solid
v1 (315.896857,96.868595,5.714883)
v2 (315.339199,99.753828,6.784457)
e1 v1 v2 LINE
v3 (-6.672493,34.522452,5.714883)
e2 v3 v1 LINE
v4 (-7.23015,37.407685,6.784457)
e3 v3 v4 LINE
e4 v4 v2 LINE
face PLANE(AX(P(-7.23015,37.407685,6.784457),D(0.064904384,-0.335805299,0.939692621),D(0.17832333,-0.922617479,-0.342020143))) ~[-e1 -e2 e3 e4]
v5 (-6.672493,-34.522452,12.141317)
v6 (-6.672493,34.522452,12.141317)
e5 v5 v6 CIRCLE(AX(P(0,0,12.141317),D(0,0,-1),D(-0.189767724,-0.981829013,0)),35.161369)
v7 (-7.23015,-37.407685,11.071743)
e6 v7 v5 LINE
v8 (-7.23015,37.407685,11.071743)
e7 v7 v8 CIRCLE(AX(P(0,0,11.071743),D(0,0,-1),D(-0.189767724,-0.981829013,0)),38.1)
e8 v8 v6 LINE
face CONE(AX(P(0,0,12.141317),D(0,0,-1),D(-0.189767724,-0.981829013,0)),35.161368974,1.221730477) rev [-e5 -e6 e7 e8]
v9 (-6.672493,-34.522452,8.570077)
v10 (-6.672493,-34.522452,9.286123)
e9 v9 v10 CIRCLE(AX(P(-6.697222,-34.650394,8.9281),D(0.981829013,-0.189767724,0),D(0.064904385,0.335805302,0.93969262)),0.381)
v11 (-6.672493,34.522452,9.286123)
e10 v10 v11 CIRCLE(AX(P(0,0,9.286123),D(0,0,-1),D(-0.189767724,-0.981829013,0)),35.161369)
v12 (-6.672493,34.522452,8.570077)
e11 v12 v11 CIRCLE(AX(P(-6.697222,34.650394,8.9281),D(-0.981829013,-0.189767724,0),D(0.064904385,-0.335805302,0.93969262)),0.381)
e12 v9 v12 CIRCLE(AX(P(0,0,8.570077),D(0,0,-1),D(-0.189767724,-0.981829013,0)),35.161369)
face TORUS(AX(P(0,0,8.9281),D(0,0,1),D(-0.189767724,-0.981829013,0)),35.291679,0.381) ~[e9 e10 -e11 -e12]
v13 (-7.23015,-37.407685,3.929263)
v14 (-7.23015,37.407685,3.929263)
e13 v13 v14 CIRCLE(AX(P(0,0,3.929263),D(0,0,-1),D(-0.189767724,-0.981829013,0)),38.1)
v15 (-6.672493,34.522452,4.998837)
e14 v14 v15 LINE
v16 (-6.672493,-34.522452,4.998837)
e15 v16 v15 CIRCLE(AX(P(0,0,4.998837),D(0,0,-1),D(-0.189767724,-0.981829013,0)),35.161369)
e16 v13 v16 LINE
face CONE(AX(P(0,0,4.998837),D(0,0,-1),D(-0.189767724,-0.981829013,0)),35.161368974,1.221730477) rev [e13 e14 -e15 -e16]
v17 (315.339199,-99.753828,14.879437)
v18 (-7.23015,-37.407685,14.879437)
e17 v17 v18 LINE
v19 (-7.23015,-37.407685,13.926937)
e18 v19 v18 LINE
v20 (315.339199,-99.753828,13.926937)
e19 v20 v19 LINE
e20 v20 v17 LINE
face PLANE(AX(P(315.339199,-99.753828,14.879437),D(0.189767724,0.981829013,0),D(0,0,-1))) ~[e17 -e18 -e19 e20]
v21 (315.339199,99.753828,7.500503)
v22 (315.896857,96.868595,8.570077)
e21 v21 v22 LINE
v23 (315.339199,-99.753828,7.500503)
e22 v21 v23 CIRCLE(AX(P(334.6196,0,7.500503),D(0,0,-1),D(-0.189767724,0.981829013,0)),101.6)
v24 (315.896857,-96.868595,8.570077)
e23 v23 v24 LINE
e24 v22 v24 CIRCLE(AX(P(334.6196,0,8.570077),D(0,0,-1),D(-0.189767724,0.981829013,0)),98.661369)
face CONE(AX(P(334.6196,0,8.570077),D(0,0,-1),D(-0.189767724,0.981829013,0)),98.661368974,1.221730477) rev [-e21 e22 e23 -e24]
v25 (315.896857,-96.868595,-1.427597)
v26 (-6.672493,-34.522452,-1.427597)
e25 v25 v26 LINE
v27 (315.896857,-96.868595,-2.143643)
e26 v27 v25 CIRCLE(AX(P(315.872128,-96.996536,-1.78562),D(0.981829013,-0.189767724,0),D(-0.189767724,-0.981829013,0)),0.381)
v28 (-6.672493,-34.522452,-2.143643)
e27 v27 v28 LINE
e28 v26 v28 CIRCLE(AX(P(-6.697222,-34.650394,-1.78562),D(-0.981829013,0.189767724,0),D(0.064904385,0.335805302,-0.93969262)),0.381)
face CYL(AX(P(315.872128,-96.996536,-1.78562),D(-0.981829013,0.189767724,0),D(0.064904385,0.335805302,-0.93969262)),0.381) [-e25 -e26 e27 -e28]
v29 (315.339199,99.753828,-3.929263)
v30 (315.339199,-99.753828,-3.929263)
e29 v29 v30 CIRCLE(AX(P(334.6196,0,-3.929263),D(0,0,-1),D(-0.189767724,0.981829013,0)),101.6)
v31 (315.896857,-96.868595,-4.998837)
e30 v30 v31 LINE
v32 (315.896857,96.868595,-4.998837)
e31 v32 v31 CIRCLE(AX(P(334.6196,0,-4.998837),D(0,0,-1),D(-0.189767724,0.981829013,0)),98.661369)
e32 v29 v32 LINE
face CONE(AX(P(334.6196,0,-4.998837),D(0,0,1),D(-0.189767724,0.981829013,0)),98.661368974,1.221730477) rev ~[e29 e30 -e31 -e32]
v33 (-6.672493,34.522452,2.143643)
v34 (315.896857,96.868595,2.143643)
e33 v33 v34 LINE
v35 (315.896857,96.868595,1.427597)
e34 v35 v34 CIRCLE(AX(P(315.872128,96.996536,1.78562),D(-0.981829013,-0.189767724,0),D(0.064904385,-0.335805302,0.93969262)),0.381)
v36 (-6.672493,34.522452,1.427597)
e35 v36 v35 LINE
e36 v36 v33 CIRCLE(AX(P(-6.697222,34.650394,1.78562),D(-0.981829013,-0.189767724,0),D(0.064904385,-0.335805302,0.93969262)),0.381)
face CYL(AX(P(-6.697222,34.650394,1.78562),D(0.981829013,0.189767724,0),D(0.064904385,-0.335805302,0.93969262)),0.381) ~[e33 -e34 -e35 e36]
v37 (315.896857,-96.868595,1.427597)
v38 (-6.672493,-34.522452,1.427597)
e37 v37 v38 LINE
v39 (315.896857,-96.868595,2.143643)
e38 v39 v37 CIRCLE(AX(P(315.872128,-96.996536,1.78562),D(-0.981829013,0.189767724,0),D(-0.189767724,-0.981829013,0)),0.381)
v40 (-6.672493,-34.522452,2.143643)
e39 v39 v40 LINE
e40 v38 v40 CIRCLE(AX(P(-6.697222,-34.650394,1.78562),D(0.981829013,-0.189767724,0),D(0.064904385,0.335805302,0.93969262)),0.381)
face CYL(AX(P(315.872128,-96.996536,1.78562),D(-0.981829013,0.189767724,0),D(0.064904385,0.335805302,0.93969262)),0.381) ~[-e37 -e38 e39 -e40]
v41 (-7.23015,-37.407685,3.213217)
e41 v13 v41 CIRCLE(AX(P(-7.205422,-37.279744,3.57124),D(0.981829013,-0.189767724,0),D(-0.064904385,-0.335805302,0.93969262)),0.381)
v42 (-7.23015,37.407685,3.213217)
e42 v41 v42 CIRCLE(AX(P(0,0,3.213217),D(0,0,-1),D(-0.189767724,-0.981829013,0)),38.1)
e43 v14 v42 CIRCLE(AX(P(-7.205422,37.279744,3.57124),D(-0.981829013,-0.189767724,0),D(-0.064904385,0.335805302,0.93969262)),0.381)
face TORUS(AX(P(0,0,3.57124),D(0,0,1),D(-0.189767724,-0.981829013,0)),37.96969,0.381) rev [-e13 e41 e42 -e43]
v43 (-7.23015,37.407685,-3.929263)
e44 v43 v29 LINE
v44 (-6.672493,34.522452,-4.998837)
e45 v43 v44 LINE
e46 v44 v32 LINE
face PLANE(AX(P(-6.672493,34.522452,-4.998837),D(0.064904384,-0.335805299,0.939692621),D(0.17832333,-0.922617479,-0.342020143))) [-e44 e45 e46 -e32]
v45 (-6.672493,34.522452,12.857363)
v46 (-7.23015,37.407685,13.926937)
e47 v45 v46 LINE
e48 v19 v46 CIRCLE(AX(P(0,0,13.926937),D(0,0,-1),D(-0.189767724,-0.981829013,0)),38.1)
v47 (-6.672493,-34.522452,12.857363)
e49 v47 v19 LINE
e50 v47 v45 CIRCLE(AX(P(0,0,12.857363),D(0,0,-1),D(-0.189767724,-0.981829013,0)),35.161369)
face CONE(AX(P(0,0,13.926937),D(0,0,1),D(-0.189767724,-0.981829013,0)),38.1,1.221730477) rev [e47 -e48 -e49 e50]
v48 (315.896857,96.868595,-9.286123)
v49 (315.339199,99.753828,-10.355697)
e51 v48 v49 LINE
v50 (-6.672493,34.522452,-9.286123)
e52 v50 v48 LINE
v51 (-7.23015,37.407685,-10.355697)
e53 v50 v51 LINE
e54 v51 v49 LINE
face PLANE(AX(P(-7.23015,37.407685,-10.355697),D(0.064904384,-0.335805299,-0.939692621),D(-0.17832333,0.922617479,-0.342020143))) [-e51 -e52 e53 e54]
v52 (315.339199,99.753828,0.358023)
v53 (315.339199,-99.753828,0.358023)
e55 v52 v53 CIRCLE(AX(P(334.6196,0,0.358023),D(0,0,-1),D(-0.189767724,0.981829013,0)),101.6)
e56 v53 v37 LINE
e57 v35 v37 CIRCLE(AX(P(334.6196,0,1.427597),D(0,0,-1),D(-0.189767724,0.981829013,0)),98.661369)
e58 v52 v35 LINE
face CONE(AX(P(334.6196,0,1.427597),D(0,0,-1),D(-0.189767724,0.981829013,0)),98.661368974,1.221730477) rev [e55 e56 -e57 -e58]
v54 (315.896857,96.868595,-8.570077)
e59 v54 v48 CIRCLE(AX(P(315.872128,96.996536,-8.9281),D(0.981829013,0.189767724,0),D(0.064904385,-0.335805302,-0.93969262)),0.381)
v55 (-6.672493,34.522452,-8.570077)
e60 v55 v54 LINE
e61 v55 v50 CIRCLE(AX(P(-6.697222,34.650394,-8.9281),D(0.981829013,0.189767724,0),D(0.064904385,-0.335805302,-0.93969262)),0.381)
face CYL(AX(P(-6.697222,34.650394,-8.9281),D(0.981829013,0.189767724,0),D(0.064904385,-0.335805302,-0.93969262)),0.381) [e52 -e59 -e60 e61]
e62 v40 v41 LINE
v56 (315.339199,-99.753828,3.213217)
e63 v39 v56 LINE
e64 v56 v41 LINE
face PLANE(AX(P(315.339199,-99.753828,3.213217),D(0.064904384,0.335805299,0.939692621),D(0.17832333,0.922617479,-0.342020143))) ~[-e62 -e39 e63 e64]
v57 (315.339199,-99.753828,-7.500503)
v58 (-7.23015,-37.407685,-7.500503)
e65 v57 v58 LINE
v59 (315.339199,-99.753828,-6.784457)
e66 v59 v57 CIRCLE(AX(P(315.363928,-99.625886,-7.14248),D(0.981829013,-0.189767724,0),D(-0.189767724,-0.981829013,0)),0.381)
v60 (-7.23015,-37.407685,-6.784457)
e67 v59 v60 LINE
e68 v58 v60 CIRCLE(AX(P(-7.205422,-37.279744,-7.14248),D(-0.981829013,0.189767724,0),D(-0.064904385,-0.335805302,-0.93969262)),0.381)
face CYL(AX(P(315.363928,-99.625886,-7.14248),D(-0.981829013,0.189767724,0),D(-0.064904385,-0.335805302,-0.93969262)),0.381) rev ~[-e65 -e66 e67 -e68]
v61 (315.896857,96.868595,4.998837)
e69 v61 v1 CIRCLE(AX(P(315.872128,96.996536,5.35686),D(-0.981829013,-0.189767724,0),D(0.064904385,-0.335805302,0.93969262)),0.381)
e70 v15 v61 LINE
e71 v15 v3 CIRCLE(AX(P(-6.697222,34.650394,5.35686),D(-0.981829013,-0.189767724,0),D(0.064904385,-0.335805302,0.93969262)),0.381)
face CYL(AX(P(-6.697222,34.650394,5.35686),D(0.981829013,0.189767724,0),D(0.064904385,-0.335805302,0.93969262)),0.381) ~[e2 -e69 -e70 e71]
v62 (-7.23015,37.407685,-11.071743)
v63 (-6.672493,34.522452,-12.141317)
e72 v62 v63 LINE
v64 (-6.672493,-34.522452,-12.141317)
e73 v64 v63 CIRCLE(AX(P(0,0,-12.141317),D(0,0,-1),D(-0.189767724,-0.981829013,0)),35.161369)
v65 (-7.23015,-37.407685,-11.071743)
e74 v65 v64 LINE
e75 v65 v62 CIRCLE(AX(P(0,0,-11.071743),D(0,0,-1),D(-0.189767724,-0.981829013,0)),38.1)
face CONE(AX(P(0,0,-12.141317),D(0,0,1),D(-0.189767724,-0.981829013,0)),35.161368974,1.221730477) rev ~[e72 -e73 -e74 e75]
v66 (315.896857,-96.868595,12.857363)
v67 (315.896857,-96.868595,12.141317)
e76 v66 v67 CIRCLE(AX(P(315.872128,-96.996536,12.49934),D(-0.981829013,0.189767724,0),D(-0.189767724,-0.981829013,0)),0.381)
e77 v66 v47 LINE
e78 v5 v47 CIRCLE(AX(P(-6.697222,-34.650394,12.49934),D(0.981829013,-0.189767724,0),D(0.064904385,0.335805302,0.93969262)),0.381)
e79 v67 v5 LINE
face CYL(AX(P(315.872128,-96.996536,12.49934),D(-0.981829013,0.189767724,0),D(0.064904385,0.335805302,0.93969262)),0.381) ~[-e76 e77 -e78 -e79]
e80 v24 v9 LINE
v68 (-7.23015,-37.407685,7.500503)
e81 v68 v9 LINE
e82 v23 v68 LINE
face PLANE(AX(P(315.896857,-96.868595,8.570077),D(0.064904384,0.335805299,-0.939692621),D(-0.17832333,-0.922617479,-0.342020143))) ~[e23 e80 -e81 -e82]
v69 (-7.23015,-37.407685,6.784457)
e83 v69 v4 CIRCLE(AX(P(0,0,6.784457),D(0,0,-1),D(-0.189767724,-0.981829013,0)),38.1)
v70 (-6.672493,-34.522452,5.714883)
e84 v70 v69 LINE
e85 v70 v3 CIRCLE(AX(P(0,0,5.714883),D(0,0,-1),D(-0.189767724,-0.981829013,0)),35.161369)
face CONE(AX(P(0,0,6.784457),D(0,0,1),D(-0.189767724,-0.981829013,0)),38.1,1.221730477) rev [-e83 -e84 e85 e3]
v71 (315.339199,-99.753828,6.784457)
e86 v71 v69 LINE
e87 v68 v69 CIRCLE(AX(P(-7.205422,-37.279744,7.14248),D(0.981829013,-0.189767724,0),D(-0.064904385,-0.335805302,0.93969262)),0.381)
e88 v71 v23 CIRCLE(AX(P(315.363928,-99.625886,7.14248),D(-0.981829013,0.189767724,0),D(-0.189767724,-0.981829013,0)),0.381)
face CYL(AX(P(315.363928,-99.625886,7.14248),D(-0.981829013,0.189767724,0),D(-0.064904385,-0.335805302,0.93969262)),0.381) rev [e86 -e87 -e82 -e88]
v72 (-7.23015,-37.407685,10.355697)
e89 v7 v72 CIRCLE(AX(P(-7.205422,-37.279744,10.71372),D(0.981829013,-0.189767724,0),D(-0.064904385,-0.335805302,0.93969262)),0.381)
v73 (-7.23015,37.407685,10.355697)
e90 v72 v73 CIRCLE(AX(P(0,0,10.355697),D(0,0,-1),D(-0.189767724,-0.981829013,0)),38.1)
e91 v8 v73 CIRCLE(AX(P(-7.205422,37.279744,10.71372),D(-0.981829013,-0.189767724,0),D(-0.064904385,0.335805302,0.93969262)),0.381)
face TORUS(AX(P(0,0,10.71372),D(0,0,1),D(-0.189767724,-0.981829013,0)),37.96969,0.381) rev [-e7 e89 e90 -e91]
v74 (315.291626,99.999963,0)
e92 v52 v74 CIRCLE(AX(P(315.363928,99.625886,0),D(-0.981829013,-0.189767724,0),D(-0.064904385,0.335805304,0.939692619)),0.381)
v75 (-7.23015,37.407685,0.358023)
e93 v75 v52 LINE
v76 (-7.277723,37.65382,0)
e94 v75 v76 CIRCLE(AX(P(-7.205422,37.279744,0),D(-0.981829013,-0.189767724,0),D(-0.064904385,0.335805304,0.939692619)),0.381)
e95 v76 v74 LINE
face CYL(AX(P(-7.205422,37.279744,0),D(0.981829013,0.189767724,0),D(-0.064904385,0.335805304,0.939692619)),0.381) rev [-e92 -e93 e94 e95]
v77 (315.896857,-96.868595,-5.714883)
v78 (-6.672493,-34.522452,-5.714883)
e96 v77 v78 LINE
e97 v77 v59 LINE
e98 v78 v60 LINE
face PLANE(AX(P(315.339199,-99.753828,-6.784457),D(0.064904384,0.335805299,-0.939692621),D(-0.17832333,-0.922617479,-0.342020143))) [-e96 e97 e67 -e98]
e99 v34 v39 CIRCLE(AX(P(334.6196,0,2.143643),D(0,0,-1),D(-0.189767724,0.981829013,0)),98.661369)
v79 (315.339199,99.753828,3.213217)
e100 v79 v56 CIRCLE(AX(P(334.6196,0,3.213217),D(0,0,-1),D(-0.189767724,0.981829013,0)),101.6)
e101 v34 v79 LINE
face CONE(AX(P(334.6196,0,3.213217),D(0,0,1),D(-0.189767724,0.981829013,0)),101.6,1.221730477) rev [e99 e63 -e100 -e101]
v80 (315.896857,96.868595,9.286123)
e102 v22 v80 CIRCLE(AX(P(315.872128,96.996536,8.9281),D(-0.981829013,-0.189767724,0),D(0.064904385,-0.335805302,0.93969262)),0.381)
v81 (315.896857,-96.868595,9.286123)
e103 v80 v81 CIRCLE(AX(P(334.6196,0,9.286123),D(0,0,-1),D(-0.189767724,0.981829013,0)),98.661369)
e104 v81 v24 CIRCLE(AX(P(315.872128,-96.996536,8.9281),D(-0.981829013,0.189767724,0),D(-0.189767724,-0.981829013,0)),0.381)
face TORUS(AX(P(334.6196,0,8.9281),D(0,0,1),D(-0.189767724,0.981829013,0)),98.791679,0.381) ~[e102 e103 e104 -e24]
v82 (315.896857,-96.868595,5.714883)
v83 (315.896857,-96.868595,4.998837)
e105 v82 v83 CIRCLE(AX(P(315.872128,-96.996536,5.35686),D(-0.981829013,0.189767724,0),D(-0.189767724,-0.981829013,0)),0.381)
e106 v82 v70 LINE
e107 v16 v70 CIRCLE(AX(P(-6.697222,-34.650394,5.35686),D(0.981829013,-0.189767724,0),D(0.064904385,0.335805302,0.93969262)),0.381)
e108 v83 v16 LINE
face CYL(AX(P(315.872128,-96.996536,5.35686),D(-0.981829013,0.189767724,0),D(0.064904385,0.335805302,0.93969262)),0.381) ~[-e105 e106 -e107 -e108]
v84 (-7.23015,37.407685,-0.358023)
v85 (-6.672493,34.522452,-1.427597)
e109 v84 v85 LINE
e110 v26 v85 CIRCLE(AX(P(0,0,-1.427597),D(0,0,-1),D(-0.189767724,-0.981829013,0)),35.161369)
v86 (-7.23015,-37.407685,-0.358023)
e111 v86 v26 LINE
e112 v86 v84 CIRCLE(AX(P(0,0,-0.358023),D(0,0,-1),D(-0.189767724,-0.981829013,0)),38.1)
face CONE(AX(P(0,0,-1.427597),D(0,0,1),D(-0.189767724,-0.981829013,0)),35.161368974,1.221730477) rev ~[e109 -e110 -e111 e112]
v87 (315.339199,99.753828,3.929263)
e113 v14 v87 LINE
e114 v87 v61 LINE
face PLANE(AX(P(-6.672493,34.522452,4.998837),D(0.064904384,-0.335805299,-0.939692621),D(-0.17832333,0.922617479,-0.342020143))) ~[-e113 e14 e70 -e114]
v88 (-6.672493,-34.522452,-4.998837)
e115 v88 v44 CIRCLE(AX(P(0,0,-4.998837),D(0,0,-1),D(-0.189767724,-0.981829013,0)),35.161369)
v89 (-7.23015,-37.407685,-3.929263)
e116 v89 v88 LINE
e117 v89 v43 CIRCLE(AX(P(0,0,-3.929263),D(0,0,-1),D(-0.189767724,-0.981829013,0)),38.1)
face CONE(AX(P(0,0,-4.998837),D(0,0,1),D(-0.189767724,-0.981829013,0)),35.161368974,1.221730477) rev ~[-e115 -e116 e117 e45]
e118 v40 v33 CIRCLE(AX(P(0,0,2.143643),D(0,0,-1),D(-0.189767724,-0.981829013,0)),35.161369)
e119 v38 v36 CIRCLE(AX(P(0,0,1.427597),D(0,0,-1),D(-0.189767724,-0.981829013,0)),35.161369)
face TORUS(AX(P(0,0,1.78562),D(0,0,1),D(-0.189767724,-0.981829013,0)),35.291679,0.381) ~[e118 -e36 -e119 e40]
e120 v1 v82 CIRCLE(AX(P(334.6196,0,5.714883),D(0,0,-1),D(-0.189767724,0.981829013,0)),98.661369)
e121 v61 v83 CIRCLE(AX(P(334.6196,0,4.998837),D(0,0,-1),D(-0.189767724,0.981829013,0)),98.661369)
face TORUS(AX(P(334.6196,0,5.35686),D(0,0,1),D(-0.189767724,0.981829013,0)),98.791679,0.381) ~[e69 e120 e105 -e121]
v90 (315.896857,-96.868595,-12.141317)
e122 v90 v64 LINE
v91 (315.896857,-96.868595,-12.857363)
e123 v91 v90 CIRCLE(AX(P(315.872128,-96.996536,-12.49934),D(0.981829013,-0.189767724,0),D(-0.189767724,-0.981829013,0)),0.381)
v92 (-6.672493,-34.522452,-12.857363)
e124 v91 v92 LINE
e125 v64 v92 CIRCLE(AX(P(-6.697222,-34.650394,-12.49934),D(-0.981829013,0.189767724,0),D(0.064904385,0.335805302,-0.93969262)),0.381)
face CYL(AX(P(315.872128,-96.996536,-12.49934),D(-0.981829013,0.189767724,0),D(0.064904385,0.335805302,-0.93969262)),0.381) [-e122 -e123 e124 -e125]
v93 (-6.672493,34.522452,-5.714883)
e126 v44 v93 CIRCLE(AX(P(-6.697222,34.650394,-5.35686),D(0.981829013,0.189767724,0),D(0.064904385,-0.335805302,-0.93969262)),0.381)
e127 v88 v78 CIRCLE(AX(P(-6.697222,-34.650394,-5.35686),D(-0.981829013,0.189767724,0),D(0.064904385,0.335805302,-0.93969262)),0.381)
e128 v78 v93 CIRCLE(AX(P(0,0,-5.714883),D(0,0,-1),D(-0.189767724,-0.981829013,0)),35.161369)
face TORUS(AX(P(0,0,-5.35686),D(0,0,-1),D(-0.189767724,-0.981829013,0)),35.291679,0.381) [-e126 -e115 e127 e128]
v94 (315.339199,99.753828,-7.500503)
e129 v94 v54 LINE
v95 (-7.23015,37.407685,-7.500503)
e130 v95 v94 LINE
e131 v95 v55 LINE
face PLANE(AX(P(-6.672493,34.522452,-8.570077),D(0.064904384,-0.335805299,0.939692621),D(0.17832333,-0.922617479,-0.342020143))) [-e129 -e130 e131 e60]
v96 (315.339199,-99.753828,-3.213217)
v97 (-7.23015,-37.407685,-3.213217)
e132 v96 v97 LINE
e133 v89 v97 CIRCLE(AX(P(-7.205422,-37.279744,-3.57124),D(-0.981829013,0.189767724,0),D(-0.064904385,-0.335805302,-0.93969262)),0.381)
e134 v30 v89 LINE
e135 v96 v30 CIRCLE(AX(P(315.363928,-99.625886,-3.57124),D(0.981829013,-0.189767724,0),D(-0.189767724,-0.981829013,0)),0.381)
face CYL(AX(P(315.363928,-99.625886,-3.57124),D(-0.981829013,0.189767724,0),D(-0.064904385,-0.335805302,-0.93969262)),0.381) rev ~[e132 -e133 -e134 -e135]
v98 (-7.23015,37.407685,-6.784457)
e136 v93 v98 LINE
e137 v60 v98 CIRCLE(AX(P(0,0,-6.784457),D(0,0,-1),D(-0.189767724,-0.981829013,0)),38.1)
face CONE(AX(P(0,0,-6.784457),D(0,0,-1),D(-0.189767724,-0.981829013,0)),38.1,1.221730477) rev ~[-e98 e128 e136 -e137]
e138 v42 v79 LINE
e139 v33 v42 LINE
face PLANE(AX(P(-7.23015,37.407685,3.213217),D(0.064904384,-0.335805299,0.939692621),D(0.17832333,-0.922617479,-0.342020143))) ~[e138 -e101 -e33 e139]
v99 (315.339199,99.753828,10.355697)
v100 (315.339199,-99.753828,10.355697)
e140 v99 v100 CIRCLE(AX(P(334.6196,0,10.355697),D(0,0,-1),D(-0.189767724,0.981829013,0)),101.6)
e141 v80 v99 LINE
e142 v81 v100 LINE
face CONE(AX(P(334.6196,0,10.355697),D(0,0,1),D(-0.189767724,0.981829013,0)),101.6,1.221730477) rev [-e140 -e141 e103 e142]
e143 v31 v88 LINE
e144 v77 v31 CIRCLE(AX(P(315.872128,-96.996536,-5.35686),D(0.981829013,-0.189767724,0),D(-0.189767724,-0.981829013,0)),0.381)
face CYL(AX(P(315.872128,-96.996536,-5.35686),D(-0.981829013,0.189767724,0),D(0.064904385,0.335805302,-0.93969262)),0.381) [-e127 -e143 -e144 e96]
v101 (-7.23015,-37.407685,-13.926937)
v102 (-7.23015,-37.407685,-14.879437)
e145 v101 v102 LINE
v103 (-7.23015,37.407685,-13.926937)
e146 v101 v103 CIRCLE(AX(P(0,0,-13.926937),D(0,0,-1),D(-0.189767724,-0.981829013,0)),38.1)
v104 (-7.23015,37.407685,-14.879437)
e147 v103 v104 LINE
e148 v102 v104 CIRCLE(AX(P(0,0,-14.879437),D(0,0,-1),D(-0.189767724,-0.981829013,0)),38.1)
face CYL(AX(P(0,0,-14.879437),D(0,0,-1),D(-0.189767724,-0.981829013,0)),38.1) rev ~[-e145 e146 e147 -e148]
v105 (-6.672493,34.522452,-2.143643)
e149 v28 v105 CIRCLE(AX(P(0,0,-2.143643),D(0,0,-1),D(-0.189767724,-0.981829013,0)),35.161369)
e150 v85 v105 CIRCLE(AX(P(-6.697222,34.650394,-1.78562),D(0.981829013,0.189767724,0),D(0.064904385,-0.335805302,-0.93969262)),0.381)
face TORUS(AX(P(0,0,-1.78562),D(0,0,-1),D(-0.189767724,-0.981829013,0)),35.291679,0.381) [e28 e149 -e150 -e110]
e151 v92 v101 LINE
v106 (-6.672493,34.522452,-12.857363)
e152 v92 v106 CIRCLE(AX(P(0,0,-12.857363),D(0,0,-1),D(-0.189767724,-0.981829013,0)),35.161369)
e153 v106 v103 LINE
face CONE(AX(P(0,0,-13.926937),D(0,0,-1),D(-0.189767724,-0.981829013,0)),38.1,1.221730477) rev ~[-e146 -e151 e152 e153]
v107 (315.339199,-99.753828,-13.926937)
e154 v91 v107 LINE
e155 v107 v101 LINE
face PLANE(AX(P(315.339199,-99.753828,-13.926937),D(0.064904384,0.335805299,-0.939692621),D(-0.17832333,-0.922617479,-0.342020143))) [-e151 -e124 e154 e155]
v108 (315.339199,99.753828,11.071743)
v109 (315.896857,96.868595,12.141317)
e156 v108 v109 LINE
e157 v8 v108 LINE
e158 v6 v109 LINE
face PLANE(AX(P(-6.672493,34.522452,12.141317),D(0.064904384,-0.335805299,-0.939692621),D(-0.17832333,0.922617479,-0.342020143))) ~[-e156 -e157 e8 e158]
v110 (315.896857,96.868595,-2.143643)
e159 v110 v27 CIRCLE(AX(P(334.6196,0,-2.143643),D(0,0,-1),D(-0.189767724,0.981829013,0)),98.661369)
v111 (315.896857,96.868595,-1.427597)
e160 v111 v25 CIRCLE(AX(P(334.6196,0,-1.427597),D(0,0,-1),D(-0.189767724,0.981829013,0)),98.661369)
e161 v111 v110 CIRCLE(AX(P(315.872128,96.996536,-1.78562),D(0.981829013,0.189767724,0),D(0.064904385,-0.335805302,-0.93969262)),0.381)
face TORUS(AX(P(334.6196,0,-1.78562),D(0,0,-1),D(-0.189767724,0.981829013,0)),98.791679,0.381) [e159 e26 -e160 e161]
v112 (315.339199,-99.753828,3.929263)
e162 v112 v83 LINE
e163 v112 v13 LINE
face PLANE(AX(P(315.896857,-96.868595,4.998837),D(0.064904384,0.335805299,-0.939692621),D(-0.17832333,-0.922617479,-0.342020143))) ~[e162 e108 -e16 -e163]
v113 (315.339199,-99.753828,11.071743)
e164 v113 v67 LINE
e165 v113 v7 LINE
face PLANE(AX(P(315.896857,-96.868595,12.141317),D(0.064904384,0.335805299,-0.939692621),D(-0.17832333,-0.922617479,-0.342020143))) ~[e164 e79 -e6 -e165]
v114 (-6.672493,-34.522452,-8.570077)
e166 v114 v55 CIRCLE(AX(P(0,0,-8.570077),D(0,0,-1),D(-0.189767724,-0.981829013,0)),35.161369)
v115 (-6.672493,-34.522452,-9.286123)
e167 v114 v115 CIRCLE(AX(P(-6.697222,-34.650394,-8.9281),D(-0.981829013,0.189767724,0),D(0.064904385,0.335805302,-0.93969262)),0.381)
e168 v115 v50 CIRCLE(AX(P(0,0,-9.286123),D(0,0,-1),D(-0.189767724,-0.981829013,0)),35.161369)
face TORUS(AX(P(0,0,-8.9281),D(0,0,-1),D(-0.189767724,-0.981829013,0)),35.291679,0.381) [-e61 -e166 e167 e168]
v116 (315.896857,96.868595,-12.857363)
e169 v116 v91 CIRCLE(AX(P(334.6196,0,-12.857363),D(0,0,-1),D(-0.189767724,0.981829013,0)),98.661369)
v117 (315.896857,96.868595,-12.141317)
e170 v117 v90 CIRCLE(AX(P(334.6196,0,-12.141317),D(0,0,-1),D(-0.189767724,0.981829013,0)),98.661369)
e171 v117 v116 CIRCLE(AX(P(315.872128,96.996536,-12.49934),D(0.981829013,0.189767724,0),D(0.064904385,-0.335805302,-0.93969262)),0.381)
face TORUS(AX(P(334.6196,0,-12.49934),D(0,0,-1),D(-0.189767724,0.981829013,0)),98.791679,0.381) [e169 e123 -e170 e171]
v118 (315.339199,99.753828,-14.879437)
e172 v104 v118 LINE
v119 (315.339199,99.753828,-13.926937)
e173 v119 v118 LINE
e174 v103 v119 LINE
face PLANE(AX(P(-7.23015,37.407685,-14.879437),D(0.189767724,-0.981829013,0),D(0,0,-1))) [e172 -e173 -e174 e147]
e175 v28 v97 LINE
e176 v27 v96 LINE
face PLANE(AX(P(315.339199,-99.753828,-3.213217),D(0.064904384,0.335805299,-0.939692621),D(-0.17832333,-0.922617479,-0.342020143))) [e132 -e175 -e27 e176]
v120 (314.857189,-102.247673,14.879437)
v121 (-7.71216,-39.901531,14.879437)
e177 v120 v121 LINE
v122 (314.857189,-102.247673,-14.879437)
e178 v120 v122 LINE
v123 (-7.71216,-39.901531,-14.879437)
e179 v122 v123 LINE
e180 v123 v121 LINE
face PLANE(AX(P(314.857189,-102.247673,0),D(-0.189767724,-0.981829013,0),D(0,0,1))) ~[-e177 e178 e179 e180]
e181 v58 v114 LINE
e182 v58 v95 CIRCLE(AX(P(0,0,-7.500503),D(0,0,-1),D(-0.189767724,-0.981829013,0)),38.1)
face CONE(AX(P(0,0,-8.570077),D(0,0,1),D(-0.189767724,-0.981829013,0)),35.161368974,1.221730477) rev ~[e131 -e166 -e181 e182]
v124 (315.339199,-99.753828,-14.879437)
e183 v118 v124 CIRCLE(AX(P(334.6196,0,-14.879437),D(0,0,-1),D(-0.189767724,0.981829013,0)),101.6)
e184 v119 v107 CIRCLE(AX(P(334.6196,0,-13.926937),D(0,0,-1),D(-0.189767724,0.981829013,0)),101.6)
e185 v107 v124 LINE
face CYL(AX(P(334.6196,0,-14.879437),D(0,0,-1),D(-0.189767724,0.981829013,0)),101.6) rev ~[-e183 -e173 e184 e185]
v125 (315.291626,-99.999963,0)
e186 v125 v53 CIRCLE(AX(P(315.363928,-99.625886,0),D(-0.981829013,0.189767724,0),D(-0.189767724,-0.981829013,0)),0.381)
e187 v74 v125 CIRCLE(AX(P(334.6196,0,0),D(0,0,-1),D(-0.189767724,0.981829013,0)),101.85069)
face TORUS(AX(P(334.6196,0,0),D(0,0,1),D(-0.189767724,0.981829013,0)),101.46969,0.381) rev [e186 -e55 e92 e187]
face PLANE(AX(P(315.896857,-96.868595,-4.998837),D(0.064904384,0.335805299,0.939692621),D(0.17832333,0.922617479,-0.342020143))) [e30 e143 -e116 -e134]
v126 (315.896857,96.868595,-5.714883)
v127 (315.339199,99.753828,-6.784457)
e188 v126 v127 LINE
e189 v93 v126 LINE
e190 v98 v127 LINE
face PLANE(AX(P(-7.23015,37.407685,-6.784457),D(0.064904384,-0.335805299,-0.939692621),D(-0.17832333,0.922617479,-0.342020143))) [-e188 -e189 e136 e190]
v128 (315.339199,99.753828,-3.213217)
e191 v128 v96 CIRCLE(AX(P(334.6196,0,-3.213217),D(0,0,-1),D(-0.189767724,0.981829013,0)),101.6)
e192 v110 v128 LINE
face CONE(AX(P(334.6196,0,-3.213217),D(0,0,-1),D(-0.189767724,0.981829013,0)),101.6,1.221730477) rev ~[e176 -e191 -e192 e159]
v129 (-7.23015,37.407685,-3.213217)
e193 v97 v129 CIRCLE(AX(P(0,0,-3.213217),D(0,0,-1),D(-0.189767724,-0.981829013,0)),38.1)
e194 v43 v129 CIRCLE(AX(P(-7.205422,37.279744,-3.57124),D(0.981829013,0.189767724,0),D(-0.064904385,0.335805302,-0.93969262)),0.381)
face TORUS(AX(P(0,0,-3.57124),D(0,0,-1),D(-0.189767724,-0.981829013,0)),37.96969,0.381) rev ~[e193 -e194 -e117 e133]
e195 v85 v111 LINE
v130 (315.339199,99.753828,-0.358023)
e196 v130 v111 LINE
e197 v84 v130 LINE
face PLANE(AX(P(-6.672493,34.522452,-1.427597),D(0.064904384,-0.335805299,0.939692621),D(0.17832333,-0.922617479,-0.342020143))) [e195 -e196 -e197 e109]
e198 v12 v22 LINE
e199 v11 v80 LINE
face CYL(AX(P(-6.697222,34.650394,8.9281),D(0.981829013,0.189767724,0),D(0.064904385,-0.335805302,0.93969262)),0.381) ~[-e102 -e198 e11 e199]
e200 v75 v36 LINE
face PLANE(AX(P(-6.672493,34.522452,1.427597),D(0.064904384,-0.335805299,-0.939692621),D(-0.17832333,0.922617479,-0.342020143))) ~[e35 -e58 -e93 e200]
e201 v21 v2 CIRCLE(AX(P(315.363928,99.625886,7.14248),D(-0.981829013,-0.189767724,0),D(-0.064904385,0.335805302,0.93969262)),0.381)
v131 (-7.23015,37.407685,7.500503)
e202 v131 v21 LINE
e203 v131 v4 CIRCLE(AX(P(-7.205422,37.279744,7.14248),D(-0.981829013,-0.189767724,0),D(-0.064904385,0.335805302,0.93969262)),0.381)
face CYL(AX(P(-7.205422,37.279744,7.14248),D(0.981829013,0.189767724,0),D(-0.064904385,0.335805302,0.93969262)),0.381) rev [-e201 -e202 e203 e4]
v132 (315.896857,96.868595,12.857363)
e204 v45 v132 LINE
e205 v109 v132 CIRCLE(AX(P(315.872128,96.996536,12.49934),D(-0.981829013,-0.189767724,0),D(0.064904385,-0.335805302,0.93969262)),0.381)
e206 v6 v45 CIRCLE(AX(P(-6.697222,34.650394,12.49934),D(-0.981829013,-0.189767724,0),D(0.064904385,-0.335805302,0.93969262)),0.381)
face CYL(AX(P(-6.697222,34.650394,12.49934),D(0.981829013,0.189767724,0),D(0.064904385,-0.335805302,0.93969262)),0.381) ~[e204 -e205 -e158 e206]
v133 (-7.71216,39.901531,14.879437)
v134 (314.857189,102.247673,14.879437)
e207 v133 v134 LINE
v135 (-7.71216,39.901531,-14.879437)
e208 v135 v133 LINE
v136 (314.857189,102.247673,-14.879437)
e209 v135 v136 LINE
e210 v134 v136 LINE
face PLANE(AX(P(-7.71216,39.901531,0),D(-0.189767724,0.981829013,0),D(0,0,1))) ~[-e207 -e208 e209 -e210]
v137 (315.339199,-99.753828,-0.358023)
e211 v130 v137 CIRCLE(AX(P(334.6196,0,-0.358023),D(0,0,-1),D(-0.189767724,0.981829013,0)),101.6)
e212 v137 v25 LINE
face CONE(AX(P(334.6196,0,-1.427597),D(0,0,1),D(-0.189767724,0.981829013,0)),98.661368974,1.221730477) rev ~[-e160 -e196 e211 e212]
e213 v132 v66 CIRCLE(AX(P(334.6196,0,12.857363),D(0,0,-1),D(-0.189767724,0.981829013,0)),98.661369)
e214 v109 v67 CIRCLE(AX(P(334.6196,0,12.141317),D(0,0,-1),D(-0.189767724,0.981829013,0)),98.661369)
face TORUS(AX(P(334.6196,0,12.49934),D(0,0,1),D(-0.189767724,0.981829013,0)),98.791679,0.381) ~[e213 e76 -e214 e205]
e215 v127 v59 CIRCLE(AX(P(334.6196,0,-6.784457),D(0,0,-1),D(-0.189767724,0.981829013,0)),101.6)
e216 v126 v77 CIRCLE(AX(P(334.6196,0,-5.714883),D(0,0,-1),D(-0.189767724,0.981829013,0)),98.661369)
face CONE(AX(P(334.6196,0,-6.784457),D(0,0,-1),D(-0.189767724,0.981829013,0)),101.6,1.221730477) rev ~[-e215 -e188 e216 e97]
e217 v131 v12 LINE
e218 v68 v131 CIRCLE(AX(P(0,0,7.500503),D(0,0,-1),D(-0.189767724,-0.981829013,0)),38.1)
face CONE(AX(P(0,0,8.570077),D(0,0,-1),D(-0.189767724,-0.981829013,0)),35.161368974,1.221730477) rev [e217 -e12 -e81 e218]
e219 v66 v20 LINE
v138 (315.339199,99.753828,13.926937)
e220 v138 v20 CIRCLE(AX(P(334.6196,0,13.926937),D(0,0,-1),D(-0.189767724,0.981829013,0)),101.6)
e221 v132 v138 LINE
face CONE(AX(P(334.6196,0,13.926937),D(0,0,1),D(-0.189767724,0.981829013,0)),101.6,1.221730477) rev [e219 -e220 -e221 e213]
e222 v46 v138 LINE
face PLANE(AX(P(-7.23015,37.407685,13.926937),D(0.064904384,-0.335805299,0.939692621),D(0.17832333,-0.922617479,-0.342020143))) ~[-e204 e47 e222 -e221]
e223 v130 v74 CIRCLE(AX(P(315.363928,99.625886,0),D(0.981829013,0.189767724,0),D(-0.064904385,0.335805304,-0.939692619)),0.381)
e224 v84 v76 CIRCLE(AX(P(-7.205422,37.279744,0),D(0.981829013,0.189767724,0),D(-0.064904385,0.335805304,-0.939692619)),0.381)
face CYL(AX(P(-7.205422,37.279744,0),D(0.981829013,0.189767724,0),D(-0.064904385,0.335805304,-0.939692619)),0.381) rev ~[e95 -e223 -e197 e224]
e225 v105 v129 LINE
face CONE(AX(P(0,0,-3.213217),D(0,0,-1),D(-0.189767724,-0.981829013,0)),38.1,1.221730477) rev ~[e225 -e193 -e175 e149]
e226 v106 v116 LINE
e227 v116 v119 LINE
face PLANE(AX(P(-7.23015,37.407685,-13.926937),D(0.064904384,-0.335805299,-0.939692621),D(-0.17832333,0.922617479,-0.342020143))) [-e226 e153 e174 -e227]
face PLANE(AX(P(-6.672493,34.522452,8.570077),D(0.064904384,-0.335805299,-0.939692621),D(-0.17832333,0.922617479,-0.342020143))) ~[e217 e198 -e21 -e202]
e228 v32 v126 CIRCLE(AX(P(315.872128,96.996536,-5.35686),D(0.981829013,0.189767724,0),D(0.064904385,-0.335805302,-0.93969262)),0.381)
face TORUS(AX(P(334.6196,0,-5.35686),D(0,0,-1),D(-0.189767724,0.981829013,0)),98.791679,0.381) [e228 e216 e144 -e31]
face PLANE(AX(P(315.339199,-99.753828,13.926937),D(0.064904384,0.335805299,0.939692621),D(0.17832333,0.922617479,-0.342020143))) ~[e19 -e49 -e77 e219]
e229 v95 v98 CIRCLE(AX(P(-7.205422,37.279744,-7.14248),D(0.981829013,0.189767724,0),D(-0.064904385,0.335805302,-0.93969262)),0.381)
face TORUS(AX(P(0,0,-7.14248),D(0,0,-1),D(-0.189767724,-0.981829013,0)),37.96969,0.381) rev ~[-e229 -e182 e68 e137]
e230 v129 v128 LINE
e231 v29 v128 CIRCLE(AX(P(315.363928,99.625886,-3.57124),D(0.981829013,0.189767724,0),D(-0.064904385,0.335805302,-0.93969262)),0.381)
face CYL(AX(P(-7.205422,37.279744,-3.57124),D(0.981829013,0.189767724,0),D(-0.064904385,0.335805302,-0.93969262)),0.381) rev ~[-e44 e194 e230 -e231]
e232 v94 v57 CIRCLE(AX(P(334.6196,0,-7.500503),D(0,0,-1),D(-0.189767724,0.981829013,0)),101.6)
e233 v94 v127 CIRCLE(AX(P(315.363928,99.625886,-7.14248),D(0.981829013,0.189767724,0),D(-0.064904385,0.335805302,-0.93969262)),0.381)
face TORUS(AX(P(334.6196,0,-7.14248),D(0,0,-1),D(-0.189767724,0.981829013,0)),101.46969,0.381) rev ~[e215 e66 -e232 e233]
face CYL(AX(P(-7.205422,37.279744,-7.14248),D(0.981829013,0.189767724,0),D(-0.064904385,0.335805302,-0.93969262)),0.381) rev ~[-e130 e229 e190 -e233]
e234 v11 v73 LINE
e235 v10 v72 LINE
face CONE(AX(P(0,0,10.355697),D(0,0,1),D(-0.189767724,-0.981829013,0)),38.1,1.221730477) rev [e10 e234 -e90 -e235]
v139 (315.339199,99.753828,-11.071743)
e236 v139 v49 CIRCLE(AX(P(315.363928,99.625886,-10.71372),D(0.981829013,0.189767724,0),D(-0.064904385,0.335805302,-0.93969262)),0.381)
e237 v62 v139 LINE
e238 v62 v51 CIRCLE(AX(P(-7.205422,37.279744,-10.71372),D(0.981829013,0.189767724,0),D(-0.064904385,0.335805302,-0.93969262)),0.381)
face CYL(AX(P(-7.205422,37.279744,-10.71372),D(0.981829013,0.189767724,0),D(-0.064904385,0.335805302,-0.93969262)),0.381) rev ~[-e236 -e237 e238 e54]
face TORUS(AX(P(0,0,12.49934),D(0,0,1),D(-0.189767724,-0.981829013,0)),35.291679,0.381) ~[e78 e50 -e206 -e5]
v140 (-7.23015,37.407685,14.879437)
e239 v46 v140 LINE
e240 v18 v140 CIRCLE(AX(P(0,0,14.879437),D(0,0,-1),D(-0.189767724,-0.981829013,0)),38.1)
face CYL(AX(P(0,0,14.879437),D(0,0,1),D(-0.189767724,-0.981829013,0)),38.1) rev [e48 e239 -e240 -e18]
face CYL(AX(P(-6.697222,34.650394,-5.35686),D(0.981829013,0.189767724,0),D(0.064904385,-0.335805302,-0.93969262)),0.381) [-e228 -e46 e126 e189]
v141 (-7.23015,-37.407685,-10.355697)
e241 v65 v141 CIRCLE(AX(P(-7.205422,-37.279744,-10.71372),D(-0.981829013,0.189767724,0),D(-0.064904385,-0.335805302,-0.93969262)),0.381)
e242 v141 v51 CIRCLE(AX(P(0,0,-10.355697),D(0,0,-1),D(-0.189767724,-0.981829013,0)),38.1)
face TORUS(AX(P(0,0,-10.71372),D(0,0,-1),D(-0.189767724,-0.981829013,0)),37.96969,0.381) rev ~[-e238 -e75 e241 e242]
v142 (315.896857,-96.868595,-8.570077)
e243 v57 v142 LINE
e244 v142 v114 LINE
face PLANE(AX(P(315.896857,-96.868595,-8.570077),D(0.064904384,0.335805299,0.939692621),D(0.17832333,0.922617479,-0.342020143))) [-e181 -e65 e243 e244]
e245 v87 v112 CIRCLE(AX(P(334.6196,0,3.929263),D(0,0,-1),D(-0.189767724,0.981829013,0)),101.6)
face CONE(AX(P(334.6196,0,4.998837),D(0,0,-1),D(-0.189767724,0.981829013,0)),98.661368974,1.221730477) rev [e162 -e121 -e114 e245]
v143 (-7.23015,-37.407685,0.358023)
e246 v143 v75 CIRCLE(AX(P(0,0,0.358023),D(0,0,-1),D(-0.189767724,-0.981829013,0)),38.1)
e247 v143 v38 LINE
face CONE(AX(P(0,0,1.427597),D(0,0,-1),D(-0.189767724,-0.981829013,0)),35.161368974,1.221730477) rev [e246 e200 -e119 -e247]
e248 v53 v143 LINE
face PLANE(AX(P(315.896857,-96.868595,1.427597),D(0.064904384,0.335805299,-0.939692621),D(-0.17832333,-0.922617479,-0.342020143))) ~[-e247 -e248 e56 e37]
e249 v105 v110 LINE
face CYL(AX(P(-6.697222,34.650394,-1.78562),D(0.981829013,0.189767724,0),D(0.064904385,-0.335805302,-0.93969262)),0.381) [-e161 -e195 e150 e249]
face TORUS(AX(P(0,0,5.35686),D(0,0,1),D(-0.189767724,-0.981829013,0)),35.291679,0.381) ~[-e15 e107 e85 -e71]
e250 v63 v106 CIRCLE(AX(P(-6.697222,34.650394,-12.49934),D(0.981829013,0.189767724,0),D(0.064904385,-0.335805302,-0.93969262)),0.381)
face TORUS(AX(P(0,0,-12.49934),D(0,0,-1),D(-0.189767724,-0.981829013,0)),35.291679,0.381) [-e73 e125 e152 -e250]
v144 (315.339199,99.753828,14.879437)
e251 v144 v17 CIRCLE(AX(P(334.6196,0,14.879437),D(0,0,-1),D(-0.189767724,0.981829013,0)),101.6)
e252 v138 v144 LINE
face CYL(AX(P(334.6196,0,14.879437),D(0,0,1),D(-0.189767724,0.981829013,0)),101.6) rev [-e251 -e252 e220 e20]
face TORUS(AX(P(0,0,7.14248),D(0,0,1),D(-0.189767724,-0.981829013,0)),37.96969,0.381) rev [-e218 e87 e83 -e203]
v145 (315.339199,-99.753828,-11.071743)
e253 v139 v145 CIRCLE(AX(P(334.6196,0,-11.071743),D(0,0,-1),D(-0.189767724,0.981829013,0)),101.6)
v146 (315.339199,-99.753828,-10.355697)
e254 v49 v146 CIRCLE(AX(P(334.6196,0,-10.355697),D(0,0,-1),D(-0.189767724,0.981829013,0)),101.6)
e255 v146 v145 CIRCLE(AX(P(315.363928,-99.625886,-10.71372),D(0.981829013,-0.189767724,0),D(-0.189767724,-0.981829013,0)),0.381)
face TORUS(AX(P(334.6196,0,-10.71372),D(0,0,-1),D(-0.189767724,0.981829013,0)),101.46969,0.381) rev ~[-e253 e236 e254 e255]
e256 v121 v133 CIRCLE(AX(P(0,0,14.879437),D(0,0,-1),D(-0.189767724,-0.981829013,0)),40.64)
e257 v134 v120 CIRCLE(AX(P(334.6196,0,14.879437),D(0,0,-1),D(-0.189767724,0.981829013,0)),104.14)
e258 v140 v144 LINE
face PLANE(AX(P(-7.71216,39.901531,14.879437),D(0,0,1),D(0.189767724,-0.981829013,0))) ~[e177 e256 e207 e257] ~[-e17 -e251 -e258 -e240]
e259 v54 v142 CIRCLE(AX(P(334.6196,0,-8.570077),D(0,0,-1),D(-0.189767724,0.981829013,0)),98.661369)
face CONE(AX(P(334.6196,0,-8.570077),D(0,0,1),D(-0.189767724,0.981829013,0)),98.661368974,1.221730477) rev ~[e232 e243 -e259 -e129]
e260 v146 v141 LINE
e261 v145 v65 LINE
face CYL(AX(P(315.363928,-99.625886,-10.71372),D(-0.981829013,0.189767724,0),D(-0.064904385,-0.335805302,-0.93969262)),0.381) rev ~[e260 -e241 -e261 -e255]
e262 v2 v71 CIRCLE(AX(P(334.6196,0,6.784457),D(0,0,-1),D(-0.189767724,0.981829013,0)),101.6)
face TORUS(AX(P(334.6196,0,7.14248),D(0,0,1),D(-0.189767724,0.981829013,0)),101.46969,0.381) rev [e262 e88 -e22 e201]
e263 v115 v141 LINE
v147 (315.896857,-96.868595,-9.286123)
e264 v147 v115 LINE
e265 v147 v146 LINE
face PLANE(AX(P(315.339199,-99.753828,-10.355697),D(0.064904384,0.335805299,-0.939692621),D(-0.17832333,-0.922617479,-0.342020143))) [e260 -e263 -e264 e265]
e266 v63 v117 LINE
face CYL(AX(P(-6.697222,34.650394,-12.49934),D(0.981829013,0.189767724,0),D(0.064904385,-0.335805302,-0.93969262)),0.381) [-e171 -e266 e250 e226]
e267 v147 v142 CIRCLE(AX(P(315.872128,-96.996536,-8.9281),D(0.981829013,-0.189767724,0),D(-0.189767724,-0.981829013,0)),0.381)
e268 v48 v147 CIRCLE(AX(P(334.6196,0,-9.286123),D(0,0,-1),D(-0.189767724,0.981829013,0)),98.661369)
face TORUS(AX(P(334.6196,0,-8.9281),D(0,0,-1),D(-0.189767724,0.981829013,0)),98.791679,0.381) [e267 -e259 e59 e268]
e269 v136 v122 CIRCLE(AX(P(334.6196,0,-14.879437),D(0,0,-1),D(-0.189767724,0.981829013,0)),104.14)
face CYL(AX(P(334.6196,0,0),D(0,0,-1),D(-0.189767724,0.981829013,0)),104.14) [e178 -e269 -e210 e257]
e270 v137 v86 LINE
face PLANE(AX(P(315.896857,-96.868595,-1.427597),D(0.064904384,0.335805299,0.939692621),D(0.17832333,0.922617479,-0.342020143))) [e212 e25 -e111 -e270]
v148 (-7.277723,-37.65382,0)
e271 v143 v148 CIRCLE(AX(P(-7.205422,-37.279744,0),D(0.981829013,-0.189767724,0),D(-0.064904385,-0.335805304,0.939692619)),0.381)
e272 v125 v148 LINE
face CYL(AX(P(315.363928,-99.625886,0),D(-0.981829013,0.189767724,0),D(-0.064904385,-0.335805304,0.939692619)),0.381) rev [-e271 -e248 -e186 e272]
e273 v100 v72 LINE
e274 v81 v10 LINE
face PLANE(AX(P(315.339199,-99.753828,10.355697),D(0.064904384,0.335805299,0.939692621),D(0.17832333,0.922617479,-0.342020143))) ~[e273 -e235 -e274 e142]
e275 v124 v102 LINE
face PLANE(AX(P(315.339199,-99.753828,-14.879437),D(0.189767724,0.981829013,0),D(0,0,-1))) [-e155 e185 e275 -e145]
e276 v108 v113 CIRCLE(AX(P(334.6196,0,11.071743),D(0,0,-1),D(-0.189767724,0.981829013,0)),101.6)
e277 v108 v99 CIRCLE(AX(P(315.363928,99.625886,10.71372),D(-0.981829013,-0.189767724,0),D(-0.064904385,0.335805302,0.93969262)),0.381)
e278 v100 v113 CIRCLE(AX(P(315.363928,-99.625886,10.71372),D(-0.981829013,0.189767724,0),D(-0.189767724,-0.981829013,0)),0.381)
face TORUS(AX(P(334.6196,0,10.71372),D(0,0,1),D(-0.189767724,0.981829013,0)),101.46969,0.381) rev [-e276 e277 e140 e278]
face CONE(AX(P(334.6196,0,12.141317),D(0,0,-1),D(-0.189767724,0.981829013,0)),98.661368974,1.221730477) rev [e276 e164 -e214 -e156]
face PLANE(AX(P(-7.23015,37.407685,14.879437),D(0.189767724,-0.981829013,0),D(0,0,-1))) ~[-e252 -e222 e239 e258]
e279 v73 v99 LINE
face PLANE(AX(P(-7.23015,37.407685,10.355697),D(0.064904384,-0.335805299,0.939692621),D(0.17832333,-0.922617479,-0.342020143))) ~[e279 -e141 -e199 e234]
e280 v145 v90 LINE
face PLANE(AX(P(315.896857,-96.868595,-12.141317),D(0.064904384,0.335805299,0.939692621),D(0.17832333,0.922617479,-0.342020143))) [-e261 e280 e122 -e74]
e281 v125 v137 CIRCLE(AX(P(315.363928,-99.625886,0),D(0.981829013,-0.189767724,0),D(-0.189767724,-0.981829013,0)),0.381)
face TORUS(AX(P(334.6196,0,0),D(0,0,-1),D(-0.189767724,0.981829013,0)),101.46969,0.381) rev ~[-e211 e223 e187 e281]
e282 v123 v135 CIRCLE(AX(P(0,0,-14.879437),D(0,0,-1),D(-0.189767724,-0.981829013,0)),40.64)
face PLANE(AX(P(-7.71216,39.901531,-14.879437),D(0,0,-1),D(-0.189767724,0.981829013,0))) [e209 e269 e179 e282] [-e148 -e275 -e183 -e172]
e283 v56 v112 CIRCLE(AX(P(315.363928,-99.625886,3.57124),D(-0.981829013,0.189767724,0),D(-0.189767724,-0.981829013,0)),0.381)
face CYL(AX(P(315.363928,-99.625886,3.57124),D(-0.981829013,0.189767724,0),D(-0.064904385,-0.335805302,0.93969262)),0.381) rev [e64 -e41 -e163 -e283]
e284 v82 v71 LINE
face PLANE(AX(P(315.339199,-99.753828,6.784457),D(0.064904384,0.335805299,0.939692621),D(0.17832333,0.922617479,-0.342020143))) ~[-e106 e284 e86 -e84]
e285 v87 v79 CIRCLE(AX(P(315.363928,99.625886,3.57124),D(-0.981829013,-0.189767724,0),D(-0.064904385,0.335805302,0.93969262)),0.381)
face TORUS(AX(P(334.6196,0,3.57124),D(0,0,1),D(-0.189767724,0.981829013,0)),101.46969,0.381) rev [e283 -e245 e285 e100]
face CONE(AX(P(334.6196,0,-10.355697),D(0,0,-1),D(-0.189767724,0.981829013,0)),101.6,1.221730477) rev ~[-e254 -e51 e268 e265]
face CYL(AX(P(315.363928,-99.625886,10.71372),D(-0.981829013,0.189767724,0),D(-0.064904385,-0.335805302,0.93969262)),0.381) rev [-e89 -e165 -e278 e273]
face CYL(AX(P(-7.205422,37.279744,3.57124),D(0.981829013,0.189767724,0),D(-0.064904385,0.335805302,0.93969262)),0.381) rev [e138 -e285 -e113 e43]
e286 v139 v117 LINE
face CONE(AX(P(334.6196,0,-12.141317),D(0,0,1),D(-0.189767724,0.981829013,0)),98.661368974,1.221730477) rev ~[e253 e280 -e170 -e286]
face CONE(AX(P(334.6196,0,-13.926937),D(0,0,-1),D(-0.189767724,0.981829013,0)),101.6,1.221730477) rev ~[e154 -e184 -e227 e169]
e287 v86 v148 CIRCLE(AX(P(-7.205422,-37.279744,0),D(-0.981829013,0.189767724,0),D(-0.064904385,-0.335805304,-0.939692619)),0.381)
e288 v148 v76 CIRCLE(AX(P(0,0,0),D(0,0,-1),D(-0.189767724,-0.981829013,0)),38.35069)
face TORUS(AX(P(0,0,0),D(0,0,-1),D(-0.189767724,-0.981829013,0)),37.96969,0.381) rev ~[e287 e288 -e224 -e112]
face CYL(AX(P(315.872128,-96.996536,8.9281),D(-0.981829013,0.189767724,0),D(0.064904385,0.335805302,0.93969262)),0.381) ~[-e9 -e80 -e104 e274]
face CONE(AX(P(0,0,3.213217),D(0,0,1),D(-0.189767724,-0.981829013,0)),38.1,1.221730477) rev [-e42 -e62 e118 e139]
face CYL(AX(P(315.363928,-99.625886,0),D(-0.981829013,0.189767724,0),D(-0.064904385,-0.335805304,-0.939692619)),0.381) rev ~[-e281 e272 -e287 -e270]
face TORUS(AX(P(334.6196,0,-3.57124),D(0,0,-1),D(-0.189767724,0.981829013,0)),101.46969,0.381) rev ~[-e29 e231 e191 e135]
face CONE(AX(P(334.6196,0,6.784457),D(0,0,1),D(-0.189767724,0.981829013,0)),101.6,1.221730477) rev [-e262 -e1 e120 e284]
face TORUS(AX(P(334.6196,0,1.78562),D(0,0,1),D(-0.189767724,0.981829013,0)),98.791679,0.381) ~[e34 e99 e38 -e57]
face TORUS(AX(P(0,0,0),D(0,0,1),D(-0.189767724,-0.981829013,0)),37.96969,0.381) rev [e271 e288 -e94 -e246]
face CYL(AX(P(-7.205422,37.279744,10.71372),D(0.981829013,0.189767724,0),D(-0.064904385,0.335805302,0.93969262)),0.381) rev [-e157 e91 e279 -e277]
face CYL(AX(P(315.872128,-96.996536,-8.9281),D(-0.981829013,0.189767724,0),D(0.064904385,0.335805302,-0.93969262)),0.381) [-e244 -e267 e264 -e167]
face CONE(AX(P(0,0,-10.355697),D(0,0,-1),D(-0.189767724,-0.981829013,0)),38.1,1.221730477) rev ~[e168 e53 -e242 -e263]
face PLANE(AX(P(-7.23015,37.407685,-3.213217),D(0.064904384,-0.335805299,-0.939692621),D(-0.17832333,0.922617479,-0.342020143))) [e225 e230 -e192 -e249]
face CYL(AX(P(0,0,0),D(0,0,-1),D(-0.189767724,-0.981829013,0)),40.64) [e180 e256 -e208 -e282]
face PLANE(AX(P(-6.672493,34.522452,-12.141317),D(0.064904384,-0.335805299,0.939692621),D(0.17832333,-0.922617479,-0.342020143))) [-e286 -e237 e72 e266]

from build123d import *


with BuildPart() as part:
    # Sweep1: sweep along a path in Sketch1
    with BuildLine(Plane.XY) as sweep1_path:
        Line((-7.230150296, 37.407685396), (315.339199211, 99.753827723))
        ThreePointArc((315.339199211, 99.753827723), (436.2196, 0), (315.339199211, -99.753827723))
        Line((315.339199211, -99.753827723), (-7.230150296, -37.407685396))
        ThreePointArc((-7.230150296, -37.407685396), (-38.1, 0), (-7.230150296, 37.407685396))
    # Sketch2 → Sweep1 (sweep)
    with BuildSketch(Plane(origin=(-7.230150296, 37.407685396, 0), x_dir=(0, 0, -1), z_dir=(0.9818290130220897, 0.18976772430545014, 0))):
        with BuildLine():
            Line((0, 2.54), (14.879437111, 2.54))
            Line((14.879437111, 2.54), (14.879437111, 0))
            Line((14.879437111, 0), (13.926937111, 0))
            Line((13.926937111, 0), (12.857362889, -2.938631026))
            ThreePointArc((12.857362889, -2.938631026), (12.49934, -3.189321351), (12.141317111, -2.938631026))
            Line((12.141317111, -2.938631026), (11.071742889, 0))
            ThreePointArc((11.071742889, 0), (10.71372, 0.250690325), (10.355697111, 0))
            Line((10.355697111, 0), (9.286122889, -2.938631026))
            ThreePointArc((9.286122889, -2.938631026), (8.9281, -3.189321351), (8.570077111, -2.938631026))
            Line((8.570077111, -2.938631026), (7.500502889, 0))
            ThreePointArc((7.500502889, 0), (7.14248, 0.250690325), (6.784457111, 0))
            Line((6.784457111, 0), (5.714882889, -2.938631026))
            ThreePointArc((5.714882889, -2.938631026), (5.35686, -3.189321351), (4.998837111, -2.938631026))
            Line((4.998837111, -2.938631026), (3.929262889, 0))
            ThreePointArc((3.929262889, 0), (3.57124, 0.250690325), (3.213217111, 0))
            Line((3.213217111, 0), (2.143642889, -2.938631026))
            ThreePointArc((2.143642889, -2.938631026), (1.78562, -3.189321351), (1.427597111, -2.938631026))
            Line((1.427597111, -2.938631026), (0.358022889, 0))
            ThreePointArc((0.358022889, 0), (0.218532622, 0.181787254), (0, 0.250690325))
            Line((0, 0.250690325), (0, 2.54))
        make_face()
    sweep1 = sweep(path=sweep1_path.line)

    # Mirror1: Sweep1 across Front Plane
    add(sweep1.mirror(Plane.XY))


solid = part.part
